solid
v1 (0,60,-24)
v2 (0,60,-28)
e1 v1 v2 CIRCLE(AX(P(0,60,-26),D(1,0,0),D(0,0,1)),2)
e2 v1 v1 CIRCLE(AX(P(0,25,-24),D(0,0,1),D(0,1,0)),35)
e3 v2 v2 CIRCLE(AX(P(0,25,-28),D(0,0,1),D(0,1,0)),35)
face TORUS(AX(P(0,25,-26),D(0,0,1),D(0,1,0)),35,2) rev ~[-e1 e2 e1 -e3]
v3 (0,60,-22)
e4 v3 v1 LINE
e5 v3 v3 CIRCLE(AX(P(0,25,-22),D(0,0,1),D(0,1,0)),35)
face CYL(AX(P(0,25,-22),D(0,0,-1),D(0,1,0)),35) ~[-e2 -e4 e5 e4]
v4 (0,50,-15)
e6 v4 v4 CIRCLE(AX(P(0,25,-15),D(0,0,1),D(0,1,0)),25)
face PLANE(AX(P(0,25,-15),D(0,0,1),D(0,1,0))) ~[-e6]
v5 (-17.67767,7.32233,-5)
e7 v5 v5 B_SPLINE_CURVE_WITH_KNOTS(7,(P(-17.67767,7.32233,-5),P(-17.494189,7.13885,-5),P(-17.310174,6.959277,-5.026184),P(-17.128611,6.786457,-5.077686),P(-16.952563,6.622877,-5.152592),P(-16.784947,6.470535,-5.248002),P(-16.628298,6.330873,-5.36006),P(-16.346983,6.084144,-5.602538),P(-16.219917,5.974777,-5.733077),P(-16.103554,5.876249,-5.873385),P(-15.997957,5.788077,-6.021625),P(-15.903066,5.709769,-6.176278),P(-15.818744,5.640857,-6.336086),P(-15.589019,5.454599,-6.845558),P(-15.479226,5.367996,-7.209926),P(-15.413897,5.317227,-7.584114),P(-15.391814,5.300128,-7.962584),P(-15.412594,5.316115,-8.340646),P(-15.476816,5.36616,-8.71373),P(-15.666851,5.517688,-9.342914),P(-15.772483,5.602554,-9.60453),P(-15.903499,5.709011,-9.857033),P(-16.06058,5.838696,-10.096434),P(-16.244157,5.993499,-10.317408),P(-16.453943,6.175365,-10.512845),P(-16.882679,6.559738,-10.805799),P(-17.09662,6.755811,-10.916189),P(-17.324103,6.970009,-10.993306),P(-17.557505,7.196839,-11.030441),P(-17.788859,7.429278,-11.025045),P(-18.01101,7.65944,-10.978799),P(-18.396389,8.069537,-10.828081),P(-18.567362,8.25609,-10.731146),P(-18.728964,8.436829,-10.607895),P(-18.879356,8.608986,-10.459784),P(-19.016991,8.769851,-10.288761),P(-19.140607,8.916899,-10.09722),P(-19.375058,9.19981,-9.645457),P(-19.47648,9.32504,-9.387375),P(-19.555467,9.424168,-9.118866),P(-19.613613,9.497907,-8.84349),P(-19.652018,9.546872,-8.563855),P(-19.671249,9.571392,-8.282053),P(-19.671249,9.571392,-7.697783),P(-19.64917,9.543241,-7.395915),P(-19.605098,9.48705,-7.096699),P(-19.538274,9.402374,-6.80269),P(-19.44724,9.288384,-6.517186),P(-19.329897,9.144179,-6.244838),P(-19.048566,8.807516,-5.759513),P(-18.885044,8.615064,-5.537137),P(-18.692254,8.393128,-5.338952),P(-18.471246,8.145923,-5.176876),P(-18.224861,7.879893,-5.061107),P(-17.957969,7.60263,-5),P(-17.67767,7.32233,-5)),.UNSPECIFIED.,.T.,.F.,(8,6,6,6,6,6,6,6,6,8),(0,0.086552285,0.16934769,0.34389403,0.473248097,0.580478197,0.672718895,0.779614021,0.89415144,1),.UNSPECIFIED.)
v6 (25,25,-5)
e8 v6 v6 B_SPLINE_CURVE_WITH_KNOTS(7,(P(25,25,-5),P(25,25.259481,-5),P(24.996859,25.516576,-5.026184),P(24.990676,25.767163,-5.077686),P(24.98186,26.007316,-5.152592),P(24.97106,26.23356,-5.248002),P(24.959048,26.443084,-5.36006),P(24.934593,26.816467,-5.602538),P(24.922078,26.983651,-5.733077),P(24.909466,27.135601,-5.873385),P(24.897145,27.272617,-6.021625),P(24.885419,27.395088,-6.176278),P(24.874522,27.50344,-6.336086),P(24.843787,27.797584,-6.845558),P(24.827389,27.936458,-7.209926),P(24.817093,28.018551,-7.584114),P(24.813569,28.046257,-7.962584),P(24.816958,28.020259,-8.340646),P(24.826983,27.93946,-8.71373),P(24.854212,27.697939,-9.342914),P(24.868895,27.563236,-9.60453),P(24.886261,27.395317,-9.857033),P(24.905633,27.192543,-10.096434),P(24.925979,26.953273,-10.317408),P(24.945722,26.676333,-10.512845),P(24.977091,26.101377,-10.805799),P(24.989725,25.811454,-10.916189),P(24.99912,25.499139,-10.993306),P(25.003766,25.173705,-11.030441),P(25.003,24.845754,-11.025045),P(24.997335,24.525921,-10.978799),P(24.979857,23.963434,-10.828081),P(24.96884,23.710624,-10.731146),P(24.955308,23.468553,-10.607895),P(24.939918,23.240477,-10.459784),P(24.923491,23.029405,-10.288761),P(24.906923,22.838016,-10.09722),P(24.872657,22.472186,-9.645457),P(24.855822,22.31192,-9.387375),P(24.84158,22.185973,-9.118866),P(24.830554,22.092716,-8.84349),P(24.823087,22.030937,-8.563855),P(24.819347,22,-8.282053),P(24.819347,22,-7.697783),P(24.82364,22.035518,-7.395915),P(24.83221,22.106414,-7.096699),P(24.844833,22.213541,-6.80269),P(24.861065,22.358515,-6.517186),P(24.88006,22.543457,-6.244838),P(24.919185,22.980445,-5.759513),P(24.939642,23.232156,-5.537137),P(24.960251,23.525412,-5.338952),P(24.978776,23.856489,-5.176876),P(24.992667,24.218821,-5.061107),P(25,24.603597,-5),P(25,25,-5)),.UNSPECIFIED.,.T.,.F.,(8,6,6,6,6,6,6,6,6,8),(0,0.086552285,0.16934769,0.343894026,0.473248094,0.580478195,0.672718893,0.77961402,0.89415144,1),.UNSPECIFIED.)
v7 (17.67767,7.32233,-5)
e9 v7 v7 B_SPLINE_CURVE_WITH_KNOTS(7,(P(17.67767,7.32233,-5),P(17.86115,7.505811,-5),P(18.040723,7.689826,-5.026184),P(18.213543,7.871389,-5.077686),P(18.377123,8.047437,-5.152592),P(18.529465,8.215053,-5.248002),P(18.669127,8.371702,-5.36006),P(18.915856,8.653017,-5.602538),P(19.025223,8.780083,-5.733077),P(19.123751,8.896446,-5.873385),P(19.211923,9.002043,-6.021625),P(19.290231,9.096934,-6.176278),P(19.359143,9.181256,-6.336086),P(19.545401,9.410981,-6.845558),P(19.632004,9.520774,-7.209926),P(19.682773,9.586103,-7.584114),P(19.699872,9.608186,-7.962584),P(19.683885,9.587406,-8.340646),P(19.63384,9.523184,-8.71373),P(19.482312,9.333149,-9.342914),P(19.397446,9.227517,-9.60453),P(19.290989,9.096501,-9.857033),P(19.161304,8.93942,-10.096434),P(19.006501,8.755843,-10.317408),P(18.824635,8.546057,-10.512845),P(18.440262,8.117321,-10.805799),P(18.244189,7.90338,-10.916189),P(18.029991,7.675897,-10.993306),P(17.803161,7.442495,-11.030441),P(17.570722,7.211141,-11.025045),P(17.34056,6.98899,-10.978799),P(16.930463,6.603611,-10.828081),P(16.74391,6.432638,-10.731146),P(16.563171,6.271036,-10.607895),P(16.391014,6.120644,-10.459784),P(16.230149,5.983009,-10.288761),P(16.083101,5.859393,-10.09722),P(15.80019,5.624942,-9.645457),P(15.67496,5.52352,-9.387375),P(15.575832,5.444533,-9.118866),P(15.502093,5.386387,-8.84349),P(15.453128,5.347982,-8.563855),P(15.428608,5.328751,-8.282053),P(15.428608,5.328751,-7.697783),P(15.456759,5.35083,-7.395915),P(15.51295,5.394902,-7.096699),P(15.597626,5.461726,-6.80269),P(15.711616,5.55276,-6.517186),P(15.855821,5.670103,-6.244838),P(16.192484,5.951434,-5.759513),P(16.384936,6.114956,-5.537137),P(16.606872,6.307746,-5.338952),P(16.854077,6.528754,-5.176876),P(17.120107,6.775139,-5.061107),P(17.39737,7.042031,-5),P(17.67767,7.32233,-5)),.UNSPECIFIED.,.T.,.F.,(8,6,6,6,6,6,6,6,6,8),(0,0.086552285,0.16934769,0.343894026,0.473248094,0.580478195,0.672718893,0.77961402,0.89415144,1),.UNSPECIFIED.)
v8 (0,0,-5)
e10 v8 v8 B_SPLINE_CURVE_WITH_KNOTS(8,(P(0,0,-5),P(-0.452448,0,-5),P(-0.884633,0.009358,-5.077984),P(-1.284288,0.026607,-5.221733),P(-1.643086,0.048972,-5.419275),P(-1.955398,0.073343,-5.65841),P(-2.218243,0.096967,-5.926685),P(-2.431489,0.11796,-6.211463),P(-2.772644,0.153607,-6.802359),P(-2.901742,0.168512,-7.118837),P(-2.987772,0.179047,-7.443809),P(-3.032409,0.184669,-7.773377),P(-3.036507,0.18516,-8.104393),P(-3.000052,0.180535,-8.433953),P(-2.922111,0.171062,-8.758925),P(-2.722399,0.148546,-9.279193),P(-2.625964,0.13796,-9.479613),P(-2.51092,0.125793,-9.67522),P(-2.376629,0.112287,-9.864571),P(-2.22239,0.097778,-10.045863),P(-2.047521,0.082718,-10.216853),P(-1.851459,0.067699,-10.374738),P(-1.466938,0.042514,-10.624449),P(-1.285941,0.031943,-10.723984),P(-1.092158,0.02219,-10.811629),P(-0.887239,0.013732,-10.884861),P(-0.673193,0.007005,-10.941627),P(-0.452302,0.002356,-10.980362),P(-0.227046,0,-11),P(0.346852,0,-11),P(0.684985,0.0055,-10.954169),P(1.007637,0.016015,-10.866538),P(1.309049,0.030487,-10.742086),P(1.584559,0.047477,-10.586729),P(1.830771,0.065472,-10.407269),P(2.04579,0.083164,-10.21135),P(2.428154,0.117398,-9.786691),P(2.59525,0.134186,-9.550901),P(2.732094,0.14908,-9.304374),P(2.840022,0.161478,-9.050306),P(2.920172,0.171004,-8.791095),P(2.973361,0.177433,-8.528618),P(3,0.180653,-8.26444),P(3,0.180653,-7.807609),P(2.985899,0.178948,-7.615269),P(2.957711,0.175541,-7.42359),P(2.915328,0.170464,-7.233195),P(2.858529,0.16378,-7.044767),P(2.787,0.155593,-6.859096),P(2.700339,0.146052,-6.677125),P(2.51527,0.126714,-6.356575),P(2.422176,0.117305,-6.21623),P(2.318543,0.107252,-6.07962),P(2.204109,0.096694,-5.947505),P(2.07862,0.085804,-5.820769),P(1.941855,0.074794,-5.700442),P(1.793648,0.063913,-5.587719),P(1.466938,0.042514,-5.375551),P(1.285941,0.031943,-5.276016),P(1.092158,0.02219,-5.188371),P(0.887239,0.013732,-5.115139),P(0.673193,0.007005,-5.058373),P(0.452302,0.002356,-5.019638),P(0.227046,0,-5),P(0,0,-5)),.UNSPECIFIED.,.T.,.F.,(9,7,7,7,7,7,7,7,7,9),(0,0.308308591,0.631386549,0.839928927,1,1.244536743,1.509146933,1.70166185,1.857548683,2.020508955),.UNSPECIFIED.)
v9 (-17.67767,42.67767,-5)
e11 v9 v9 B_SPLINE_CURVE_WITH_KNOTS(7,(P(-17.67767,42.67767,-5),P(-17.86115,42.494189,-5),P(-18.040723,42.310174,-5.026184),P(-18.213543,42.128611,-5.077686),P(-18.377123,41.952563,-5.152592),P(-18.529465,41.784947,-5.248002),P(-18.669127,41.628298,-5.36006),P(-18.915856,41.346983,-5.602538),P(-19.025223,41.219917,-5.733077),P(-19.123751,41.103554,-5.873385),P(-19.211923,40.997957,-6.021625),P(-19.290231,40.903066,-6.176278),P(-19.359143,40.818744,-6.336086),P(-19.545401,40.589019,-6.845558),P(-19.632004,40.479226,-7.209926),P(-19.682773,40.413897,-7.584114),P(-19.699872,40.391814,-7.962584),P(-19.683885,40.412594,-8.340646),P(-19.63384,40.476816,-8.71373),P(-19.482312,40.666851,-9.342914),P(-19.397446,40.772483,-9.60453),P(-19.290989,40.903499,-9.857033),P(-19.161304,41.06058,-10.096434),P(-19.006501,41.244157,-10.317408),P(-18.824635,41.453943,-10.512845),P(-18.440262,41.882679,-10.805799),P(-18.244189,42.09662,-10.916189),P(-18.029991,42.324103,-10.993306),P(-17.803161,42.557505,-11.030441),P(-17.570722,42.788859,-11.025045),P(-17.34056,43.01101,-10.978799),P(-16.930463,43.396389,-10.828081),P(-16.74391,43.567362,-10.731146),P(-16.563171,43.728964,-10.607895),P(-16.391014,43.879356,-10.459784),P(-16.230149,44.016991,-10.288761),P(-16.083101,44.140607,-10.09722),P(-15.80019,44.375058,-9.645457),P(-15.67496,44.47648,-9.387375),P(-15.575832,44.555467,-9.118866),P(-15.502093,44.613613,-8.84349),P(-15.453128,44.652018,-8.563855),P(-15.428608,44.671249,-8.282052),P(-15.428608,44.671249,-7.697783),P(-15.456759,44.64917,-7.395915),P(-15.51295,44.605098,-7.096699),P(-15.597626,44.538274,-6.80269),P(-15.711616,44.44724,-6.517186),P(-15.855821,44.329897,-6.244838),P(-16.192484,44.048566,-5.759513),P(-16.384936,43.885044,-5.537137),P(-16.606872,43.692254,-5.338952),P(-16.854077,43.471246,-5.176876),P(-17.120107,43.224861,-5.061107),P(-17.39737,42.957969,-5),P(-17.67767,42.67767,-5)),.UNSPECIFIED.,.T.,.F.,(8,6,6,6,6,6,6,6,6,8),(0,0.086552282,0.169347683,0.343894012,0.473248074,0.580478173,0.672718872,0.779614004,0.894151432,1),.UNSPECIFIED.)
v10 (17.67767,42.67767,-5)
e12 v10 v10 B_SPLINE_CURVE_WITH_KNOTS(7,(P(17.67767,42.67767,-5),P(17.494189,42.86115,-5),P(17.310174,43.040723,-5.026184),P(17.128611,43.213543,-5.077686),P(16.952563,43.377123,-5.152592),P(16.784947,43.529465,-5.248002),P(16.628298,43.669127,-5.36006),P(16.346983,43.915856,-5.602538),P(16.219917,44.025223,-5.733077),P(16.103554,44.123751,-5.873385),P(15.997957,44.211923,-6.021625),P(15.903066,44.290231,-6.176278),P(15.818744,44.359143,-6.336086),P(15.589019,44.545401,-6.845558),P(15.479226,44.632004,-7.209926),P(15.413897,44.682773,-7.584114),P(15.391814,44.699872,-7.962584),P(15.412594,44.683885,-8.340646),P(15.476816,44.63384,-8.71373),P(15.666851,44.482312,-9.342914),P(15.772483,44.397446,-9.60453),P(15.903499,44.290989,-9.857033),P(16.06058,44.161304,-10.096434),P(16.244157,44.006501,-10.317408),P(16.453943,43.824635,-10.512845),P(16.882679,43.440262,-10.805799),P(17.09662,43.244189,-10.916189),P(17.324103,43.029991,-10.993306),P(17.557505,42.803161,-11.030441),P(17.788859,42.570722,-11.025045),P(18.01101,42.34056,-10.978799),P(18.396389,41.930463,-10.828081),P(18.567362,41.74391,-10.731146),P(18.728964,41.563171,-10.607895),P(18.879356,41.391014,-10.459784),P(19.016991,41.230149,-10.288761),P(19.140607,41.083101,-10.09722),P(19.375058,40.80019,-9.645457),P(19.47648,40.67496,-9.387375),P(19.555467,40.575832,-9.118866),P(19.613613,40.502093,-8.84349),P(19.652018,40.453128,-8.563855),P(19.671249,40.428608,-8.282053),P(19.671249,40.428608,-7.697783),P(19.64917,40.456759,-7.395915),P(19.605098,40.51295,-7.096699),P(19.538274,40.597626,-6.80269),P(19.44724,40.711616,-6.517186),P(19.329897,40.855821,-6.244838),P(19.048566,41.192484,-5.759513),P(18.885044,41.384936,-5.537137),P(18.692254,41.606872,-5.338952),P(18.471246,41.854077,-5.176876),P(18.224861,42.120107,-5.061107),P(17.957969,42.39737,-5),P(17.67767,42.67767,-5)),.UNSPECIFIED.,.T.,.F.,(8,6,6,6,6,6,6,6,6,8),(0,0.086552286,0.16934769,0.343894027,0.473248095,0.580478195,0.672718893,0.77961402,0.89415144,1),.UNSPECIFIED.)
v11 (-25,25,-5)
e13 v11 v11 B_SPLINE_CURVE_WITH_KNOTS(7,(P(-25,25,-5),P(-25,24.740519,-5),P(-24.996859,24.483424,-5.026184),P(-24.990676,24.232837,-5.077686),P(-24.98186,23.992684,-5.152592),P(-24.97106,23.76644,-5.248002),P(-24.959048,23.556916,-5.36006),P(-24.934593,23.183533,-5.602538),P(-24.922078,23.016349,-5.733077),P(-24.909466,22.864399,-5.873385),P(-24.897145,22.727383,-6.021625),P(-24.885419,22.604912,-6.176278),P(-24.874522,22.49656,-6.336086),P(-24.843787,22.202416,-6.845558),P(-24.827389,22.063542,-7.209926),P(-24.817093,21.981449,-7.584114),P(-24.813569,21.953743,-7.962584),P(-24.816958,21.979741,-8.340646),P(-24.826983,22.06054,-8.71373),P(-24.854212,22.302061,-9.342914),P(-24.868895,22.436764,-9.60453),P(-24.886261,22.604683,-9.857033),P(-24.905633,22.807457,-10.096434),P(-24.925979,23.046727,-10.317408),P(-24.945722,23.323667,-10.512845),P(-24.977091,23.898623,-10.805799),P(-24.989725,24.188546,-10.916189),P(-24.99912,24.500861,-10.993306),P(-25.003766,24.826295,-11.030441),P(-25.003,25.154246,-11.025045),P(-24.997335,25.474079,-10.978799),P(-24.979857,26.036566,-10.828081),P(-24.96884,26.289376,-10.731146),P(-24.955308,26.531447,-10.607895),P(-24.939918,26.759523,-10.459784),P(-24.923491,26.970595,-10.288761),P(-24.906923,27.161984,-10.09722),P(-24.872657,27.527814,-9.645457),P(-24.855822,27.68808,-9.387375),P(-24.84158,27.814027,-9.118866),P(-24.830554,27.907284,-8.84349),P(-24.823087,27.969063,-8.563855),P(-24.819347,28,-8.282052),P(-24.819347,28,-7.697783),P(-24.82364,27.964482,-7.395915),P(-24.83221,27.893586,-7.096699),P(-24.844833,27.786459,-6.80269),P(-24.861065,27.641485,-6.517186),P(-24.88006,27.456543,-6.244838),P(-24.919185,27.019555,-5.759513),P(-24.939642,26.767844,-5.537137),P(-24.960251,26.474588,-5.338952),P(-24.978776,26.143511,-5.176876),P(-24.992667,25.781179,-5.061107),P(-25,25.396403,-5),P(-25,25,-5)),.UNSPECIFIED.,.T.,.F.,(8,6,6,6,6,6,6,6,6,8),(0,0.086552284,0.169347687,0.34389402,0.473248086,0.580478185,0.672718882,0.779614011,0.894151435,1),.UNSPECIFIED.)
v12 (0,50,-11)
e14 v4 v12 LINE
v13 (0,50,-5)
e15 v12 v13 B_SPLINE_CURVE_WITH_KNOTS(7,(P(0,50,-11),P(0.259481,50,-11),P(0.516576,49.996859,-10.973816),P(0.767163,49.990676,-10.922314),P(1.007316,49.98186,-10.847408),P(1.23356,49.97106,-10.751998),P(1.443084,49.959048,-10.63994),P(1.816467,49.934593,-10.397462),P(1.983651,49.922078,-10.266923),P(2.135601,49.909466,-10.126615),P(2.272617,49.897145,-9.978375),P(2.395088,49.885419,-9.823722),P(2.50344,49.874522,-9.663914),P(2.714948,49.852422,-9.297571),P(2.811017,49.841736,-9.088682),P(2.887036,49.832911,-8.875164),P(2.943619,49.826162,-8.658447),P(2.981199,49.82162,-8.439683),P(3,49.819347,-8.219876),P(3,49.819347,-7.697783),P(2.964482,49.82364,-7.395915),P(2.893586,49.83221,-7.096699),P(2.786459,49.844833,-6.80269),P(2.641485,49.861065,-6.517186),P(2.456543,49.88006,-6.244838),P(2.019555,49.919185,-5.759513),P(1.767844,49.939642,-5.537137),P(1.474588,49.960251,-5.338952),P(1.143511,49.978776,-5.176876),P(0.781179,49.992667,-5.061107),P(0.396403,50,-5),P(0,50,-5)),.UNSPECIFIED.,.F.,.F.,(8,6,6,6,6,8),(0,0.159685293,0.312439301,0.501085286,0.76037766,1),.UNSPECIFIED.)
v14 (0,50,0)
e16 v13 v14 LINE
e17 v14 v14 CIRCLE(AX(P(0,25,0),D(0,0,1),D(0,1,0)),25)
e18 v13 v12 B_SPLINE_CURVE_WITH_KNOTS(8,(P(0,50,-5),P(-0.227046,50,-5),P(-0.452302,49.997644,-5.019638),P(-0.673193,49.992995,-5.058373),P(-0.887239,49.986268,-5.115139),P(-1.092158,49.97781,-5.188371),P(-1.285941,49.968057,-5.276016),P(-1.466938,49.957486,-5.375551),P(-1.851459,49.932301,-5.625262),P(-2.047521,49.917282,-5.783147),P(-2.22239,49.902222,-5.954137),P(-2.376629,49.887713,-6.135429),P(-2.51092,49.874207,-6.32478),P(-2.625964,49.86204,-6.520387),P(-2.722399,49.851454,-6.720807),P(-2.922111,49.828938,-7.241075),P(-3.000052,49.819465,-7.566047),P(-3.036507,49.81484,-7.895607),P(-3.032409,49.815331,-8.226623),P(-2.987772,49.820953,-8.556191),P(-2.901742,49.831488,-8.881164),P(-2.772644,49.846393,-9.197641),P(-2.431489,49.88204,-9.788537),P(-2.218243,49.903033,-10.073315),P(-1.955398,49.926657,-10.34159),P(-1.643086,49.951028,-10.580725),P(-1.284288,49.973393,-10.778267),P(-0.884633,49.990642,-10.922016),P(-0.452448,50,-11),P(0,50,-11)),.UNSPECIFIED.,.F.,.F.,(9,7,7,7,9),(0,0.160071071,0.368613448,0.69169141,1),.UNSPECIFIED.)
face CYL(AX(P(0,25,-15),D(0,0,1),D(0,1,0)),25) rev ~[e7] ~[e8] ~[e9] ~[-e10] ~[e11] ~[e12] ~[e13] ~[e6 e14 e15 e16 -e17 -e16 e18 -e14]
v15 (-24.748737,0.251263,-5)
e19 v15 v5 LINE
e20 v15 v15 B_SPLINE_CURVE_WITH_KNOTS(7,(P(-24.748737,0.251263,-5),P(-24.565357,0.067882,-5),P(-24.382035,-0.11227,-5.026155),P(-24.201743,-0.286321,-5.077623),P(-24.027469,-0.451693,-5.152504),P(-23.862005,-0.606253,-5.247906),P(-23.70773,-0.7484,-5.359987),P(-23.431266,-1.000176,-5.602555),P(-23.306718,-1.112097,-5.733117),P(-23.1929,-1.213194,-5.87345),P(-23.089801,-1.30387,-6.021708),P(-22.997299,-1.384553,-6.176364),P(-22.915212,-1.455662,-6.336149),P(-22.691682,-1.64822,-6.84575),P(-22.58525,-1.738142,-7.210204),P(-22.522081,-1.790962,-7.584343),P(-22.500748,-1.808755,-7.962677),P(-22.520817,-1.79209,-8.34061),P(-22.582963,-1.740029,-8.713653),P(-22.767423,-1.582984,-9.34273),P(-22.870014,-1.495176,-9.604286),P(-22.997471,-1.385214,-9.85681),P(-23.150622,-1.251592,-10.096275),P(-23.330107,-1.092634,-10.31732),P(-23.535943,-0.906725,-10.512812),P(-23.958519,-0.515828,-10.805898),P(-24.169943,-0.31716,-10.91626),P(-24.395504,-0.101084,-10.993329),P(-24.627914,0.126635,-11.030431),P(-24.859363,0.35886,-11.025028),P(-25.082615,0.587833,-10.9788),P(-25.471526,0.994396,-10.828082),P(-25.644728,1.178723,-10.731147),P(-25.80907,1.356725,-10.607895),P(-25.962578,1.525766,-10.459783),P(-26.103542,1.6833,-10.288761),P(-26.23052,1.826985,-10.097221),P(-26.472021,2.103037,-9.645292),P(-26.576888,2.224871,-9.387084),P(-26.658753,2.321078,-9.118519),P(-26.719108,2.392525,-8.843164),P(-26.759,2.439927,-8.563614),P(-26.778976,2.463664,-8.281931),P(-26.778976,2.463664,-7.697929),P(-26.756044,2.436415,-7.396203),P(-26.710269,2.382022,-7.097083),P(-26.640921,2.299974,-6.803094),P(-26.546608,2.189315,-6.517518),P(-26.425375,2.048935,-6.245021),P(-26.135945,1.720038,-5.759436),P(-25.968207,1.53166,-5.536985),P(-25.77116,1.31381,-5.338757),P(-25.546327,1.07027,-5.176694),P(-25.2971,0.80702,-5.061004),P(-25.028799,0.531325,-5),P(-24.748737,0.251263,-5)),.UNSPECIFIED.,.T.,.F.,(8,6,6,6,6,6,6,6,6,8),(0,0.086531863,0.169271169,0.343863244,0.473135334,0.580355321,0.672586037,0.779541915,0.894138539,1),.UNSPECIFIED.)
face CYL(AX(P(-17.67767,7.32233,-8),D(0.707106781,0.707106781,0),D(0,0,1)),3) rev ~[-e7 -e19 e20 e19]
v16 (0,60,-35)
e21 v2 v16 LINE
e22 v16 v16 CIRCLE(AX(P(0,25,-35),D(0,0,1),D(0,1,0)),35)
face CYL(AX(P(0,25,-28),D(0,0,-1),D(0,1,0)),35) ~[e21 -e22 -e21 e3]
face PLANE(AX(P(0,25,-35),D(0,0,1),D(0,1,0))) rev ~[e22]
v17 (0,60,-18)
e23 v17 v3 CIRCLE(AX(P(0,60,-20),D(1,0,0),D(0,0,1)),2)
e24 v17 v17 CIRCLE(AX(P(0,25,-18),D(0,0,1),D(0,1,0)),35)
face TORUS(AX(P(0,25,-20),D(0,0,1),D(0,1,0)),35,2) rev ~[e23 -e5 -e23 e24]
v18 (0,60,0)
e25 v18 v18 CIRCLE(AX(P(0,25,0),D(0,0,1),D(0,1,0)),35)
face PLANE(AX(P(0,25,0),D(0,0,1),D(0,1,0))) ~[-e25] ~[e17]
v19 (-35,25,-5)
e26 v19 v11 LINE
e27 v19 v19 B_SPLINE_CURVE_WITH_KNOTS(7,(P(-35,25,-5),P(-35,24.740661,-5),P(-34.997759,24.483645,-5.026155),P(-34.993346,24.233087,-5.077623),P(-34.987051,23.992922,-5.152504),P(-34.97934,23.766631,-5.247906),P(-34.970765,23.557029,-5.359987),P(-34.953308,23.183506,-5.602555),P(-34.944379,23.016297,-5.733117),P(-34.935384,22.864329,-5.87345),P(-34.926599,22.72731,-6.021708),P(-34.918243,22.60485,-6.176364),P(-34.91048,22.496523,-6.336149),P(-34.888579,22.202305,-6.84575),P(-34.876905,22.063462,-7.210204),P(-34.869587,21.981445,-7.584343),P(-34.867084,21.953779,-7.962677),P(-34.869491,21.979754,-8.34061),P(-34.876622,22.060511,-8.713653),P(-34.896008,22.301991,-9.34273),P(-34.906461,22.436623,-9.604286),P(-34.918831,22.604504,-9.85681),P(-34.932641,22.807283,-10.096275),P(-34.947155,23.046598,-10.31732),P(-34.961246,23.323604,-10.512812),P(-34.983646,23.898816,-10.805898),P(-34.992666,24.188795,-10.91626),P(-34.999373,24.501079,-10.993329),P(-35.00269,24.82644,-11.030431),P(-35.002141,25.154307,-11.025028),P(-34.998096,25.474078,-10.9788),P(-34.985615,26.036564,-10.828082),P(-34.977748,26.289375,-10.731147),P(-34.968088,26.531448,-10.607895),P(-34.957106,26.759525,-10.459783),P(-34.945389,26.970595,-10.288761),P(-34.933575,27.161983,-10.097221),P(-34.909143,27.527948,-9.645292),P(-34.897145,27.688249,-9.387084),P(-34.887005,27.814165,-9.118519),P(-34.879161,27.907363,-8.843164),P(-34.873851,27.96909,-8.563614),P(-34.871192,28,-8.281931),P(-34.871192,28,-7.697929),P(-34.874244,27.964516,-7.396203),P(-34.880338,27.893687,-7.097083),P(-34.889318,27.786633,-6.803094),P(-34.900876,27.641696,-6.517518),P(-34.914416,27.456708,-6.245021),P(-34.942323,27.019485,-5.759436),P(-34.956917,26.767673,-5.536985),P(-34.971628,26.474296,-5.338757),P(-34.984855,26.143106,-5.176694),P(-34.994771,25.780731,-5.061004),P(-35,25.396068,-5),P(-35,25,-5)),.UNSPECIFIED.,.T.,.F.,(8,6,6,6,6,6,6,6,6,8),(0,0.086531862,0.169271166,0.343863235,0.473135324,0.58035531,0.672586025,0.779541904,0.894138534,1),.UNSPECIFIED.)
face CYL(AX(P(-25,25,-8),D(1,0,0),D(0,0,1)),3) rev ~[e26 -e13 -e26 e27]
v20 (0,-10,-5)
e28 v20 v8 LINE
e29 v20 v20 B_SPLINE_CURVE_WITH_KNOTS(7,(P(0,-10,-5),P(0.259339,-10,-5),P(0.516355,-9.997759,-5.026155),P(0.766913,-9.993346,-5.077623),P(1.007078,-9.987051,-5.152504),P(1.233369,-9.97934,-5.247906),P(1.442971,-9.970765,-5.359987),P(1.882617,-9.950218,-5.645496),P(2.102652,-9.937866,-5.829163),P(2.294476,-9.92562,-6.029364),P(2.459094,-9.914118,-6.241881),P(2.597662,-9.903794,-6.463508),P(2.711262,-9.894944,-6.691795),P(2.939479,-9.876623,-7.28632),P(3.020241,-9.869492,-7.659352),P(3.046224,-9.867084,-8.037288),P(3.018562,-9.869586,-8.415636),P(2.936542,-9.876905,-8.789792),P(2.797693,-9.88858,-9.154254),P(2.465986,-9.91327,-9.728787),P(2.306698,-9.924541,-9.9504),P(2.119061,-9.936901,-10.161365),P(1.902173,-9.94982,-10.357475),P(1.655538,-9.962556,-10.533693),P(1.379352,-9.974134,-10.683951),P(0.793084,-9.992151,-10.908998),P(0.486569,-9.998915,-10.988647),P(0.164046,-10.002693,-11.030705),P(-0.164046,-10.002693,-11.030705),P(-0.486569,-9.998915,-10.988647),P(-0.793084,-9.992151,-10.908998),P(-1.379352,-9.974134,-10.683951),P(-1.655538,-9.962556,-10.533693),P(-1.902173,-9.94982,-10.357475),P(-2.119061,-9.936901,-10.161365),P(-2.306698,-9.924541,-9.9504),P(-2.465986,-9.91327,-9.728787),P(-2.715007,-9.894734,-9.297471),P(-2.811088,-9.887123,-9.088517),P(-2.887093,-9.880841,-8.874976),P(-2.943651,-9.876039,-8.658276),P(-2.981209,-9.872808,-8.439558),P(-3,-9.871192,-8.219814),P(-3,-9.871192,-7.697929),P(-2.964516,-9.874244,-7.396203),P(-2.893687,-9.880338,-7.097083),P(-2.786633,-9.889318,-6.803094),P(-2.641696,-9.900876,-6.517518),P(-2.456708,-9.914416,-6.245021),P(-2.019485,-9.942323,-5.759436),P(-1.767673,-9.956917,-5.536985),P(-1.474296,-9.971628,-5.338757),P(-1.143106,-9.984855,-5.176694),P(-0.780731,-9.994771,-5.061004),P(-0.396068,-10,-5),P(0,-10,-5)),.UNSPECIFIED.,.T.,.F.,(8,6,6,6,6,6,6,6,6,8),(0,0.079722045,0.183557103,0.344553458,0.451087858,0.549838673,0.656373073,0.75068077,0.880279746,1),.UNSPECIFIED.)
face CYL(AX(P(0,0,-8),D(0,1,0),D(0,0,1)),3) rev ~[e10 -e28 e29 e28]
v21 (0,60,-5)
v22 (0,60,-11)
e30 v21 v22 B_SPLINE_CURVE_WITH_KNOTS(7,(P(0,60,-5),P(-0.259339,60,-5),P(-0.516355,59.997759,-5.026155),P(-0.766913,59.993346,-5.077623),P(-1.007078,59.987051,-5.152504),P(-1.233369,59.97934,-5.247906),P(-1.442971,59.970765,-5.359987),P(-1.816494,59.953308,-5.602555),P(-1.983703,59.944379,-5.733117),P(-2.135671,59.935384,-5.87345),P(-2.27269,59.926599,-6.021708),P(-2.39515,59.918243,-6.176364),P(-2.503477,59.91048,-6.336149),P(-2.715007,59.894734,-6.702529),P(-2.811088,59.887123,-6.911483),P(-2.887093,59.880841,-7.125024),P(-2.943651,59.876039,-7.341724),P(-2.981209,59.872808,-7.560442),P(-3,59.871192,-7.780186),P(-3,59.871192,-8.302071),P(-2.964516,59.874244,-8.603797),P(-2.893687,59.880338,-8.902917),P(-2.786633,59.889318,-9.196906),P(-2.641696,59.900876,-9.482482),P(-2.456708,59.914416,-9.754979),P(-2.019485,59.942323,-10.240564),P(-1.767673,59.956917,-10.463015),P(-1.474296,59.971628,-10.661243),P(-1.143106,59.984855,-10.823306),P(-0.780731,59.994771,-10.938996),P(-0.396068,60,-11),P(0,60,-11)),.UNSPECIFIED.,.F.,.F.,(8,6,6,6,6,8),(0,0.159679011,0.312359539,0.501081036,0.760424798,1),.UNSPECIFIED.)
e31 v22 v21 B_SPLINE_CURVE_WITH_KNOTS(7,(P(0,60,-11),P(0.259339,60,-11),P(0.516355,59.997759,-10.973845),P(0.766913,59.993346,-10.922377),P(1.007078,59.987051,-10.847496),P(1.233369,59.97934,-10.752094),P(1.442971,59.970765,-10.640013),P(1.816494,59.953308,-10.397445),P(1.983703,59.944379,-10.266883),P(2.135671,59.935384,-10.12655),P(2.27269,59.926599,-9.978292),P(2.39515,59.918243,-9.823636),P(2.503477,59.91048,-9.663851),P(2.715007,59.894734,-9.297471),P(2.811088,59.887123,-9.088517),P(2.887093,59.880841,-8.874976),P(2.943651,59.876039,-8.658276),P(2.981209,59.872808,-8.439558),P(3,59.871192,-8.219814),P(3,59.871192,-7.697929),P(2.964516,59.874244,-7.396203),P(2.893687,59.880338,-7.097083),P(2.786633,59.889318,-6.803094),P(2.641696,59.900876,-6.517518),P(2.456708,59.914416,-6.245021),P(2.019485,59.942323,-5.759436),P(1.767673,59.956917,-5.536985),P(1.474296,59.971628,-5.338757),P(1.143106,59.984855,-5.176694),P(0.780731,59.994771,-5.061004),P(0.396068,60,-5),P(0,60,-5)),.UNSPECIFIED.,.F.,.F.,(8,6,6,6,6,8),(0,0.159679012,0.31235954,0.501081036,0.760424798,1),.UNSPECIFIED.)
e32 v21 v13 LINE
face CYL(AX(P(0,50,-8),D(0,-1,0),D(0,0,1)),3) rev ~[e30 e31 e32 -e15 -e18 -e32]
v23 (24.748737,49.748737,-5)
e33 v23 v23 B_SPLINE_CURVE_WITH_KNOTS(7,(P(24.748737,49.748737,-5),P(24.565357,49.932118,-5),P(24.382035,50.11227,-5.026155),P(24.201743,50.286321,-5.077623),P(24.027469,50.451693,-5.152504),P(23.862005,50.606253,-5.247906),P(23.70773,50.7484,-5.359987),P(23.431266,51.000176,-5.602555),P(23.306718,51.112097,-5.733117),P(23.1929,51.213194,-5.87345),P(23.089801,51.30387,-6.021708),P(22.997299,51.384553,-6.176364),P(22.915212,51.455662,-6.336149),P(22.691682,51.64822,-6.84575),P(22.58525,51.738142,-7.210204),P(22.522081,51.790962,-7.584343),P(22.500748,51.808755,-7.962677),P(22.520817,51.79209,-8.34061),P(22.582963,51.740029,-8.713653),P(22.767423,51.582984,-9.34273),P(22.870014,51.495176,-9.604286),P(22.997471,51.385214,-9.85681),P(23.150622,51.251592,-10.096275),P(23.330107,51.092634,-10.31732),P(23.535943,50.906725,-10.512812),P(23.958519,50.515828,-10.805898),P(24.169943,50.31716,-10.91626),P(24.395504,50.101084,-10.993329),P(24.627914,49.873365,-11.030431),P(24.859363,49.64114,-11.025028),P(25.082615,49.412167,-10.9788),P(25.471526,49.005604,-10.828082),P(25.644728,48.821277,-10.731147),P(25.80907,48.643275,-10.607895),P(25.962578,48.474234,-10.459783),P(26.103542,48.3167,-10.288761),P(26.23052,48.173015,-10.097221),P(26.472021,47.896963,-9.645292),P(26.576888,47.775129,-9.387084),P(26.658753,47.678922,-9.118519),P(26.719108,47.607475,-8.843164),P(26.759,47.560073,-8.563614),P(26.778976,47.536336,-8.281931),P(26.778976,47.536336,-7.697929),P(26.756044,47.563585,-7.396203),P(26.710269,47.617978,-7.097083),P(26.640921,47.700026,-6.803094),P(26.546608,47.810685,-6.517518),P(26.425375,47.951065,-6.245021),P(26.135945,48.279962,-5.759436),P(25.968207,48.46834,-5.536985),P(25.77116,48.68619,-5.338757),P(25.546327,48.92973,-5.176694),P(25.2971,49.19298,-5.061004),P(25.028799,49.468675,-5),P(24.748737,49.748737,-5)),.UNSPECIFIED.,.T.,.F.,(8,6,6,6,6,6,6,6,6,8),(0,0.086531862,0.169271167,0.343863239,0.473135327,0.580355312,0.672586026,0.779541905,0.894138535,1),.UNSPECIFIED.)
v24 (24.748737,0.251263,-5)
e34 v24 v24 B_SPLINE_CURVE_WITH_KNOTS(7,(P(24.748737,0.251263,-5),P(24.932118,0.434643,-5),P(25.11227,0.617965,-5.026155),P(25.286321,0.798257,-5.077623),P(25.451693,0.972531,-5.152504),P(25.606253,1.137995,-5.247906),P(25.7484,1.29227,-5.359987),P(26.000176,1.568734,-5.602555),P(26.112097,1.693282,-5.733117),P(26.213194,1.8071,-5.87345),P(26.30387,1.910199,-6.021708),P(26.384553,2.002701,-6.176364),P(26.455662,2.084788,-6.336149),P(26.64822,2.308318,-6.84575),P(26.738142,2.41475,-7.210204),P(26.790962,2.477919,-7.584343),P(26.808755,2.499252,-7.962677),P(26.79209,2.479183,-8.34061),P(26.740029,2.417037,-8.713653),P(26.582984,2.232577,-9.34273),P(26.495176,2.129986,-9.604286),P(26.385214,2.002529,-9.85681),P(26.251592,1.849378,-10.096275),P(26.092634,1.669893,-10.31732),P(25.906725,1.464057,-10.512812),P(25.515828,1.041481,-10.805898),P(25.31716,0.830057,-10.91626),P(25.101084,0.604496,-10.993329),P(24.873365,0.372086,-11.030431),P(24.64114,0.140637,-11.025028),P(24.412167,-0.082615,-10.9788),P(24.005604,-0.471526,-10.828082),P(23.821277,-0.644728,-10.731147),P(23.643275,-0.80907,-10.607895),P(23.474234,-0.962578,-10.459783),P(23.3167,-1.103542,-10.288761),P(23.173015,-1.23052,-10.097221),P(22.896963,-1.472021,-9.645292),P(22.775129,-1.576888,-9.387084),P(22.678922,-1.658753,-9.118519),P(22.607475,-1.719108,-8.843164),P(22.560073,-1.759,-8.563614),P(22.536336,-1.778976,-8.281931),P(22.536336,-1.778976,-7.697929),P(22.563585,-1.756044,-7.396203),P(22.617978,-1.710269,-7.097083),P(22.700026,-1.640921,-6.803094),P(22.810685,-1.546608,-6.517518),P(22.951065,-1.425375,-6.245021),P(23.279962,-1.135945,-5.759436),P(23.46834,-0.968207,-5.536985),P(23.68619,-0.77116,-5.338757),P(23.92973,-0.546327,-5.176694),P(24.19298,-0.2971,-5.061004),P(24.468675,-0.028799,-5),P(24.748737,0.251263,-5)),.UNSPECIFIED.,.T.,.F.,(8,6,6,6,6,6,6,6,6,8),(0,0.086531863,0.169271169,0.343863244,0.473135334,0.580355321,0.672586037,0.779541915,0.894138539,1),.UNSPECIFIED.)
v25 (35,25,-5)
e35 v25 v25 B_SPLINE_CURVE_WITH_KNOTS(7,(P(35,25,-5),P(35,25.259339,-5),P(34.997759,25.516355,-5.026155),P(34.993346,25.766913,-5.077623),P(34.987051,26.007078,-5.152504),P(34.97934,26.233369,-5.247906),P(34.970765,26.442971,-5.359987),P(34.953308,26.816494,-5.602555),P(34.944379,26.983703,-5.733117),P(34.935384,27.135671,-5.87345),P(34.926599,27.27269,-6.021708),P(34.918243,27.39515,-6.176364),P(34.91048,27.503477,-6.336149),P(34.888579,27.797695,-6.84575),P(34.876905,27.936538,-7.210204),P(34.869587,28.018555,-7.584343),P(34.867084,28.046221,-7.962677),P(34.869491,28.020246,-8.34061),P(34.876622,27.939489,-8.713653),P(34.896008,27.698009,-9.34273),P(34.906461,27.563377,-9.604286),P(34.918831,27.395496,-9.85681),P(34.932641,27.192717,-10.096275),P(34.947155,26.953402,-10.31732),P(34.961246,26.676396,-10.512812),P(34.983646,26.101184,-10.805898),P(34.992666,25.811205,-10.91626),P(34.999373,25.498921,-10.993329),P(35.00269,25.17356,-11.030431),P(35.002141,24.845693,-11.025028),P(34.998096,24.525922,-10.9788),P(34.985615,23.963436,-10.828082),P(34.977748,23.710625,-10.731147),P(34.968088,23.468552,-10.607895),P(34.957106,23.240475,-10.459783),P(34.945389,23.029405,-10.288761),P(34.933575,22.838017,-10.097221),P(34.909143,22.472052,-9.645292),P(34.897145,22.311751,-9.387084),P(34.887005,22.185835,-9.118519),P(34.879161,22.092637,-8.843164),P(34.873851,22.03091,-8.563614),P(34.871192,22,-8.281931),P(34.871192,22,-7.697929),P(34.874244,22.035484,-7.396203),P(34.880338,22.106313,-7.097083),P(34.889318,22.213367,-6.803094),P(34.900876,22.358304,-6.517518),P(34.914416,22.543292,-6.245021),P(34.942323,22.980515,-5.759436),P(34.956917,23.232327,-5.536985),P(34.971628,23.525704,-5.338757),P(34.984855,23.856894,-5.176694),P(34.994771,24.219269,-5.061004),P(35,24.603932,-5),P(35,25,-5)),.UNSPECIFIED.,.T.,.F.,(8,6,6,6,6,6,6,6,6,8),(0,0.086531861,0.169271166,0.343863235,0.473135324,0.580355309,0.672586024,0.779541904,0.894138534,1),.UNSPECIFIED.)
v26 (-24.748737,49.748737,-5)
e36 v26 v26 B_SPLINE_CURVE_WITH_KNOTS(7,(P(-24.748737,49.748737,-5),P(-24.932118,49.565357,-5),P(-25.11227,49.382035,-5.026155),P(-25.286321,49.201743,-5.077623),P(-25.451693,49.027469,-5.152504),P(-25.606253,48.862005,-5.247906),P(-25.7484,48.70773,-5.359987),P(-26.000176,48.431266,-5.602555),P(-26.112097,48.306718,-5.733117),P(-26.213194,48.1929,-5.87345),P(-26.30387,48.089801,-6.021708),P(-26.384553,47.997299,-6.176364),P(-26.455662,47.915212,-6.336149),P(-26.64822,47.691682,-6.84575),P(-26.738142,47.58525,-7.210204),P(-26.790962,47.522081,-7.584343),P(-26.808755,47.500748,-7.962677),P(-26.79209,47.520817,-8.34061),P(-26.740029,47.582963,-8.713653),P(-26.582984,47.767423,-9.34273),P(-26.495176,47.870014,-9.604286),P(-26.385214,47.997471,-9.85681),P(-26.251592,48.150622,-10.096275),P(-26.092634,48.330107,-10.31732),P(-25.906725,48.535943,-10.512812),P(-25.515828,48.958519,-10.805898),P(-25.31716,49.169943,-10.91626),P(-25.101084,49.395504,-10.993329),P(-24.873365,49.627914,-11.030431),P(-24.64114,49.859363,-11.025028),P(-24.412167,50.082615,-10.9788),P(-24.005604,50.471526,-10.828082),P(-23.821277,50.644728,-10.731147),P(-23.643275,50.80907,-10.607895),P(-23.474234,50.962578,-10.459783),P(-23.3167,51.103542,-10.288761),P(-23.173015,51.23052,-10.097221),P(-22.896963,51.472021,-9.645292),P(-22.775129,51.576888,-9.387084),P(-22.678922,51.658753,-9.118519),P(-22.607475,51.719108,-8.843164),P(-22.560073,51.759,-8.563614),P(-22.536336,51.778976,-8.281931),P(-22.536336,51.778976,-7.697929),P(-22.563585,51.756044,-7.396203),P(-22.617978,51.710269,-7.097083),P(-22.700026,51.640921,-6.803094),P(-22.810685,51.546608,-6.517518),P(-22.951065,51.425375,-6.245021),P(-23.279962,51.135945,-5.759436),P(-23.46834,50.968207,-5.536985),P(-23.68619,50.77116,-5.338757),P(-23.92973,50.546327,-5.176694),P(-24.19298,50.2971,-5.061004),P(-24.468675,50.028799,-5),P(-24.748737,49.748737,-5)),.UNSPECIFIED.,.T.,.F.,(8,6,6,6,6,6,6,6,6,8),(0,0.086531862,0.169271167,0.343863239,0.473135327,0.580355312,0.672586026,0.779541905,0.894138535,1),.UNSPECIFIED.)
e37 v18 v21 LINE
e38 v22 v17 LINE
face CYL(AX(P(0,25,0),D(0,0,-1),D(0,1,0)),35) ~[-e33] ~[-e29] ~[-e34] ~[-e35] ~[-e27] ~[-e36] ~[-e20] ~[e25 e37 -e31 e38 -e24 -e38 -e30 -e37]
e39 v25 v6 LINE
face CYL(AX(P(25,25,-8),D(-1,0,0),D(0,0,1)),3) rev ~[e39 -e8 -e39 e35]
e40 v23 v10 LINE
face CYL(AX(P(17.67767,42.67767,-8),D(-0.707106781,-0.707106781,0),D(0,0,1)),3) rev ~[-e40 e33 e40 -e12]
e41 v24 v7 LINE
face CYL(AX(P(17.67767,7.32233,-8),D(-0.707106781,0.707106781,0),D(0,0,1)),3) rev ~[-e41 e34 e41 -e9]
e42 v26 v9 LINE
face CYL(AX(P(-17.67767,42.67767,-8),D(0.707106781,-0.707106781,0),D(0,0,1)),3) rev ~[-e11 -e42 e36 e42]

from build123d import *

# Parameters (mm, degrees)
SKETCH2_R          = 3
CUT_EXTRUDE3_DEPTH = 12.5
CIRPATTERN1_COUNT  = 8


with BuildPart() as part:
    # Sketch1 → Revolve1 (revolve)
    with BuildSketch(Plane(origin=(0, 0, 0), x_dir=(0, 0, -1), z_dir=(1, 0, 0)), mode=Mode.PRIVATE) as revolve1_sk:
        with BuildLine():
            Line((0, 0), (0, -10))
            Line((0, -10), (18, -10))
            ThreePointArc((18, -10), (20, -8), (22, -10))
            Line((22, -10), (24, -10))
            ThreePointArc((24, -10), (26, -8), (28, -10))
            Line((28, -10), (35, -10))
            Line((35, -10), (35, 25))
            Line((35, 25), (15, 25))
            Line((15, 25), (15, 0))
            Line((15, 0), (0, 0))
        make_face()
    revolve(revolve1_sk.sketch.rotate(Axis((0, 25, -35), (0, 0, 1)), 180), axis=Axis((0, 25, -35), (0, 0, 1)))

    # Sketch2 → Cut-Extrude3 (cut, symmetric)
    with BuildSketch(Plane(origin=(0, 0, 0), x_dir=(1, 0, 0), z_dir=(0, 1, 0))):
        with Locations(Location((0, 8, 0), (0, 0, 270))):
            Circle(SKETCH2_R)
    cut_extrude3 = extrude(amount=CUT_EXTRUDE3_DEPTH, both=True, mode=Mode.SUBTRACT)

    # CirPattern1: Cut-Extrude3 ×8 about axis
    cirpattern1_axis = Axis((0, 25, -35), (0, 0, -1))
    for i in range(1, CIRPATTERN1_COUNT):
        add(cut_extrude3.rotate(cirpattern1_axis, i * 360 / CIRPATTERN1_COUNT), mode=Mode.SUBTRACT)


solid = part.part
